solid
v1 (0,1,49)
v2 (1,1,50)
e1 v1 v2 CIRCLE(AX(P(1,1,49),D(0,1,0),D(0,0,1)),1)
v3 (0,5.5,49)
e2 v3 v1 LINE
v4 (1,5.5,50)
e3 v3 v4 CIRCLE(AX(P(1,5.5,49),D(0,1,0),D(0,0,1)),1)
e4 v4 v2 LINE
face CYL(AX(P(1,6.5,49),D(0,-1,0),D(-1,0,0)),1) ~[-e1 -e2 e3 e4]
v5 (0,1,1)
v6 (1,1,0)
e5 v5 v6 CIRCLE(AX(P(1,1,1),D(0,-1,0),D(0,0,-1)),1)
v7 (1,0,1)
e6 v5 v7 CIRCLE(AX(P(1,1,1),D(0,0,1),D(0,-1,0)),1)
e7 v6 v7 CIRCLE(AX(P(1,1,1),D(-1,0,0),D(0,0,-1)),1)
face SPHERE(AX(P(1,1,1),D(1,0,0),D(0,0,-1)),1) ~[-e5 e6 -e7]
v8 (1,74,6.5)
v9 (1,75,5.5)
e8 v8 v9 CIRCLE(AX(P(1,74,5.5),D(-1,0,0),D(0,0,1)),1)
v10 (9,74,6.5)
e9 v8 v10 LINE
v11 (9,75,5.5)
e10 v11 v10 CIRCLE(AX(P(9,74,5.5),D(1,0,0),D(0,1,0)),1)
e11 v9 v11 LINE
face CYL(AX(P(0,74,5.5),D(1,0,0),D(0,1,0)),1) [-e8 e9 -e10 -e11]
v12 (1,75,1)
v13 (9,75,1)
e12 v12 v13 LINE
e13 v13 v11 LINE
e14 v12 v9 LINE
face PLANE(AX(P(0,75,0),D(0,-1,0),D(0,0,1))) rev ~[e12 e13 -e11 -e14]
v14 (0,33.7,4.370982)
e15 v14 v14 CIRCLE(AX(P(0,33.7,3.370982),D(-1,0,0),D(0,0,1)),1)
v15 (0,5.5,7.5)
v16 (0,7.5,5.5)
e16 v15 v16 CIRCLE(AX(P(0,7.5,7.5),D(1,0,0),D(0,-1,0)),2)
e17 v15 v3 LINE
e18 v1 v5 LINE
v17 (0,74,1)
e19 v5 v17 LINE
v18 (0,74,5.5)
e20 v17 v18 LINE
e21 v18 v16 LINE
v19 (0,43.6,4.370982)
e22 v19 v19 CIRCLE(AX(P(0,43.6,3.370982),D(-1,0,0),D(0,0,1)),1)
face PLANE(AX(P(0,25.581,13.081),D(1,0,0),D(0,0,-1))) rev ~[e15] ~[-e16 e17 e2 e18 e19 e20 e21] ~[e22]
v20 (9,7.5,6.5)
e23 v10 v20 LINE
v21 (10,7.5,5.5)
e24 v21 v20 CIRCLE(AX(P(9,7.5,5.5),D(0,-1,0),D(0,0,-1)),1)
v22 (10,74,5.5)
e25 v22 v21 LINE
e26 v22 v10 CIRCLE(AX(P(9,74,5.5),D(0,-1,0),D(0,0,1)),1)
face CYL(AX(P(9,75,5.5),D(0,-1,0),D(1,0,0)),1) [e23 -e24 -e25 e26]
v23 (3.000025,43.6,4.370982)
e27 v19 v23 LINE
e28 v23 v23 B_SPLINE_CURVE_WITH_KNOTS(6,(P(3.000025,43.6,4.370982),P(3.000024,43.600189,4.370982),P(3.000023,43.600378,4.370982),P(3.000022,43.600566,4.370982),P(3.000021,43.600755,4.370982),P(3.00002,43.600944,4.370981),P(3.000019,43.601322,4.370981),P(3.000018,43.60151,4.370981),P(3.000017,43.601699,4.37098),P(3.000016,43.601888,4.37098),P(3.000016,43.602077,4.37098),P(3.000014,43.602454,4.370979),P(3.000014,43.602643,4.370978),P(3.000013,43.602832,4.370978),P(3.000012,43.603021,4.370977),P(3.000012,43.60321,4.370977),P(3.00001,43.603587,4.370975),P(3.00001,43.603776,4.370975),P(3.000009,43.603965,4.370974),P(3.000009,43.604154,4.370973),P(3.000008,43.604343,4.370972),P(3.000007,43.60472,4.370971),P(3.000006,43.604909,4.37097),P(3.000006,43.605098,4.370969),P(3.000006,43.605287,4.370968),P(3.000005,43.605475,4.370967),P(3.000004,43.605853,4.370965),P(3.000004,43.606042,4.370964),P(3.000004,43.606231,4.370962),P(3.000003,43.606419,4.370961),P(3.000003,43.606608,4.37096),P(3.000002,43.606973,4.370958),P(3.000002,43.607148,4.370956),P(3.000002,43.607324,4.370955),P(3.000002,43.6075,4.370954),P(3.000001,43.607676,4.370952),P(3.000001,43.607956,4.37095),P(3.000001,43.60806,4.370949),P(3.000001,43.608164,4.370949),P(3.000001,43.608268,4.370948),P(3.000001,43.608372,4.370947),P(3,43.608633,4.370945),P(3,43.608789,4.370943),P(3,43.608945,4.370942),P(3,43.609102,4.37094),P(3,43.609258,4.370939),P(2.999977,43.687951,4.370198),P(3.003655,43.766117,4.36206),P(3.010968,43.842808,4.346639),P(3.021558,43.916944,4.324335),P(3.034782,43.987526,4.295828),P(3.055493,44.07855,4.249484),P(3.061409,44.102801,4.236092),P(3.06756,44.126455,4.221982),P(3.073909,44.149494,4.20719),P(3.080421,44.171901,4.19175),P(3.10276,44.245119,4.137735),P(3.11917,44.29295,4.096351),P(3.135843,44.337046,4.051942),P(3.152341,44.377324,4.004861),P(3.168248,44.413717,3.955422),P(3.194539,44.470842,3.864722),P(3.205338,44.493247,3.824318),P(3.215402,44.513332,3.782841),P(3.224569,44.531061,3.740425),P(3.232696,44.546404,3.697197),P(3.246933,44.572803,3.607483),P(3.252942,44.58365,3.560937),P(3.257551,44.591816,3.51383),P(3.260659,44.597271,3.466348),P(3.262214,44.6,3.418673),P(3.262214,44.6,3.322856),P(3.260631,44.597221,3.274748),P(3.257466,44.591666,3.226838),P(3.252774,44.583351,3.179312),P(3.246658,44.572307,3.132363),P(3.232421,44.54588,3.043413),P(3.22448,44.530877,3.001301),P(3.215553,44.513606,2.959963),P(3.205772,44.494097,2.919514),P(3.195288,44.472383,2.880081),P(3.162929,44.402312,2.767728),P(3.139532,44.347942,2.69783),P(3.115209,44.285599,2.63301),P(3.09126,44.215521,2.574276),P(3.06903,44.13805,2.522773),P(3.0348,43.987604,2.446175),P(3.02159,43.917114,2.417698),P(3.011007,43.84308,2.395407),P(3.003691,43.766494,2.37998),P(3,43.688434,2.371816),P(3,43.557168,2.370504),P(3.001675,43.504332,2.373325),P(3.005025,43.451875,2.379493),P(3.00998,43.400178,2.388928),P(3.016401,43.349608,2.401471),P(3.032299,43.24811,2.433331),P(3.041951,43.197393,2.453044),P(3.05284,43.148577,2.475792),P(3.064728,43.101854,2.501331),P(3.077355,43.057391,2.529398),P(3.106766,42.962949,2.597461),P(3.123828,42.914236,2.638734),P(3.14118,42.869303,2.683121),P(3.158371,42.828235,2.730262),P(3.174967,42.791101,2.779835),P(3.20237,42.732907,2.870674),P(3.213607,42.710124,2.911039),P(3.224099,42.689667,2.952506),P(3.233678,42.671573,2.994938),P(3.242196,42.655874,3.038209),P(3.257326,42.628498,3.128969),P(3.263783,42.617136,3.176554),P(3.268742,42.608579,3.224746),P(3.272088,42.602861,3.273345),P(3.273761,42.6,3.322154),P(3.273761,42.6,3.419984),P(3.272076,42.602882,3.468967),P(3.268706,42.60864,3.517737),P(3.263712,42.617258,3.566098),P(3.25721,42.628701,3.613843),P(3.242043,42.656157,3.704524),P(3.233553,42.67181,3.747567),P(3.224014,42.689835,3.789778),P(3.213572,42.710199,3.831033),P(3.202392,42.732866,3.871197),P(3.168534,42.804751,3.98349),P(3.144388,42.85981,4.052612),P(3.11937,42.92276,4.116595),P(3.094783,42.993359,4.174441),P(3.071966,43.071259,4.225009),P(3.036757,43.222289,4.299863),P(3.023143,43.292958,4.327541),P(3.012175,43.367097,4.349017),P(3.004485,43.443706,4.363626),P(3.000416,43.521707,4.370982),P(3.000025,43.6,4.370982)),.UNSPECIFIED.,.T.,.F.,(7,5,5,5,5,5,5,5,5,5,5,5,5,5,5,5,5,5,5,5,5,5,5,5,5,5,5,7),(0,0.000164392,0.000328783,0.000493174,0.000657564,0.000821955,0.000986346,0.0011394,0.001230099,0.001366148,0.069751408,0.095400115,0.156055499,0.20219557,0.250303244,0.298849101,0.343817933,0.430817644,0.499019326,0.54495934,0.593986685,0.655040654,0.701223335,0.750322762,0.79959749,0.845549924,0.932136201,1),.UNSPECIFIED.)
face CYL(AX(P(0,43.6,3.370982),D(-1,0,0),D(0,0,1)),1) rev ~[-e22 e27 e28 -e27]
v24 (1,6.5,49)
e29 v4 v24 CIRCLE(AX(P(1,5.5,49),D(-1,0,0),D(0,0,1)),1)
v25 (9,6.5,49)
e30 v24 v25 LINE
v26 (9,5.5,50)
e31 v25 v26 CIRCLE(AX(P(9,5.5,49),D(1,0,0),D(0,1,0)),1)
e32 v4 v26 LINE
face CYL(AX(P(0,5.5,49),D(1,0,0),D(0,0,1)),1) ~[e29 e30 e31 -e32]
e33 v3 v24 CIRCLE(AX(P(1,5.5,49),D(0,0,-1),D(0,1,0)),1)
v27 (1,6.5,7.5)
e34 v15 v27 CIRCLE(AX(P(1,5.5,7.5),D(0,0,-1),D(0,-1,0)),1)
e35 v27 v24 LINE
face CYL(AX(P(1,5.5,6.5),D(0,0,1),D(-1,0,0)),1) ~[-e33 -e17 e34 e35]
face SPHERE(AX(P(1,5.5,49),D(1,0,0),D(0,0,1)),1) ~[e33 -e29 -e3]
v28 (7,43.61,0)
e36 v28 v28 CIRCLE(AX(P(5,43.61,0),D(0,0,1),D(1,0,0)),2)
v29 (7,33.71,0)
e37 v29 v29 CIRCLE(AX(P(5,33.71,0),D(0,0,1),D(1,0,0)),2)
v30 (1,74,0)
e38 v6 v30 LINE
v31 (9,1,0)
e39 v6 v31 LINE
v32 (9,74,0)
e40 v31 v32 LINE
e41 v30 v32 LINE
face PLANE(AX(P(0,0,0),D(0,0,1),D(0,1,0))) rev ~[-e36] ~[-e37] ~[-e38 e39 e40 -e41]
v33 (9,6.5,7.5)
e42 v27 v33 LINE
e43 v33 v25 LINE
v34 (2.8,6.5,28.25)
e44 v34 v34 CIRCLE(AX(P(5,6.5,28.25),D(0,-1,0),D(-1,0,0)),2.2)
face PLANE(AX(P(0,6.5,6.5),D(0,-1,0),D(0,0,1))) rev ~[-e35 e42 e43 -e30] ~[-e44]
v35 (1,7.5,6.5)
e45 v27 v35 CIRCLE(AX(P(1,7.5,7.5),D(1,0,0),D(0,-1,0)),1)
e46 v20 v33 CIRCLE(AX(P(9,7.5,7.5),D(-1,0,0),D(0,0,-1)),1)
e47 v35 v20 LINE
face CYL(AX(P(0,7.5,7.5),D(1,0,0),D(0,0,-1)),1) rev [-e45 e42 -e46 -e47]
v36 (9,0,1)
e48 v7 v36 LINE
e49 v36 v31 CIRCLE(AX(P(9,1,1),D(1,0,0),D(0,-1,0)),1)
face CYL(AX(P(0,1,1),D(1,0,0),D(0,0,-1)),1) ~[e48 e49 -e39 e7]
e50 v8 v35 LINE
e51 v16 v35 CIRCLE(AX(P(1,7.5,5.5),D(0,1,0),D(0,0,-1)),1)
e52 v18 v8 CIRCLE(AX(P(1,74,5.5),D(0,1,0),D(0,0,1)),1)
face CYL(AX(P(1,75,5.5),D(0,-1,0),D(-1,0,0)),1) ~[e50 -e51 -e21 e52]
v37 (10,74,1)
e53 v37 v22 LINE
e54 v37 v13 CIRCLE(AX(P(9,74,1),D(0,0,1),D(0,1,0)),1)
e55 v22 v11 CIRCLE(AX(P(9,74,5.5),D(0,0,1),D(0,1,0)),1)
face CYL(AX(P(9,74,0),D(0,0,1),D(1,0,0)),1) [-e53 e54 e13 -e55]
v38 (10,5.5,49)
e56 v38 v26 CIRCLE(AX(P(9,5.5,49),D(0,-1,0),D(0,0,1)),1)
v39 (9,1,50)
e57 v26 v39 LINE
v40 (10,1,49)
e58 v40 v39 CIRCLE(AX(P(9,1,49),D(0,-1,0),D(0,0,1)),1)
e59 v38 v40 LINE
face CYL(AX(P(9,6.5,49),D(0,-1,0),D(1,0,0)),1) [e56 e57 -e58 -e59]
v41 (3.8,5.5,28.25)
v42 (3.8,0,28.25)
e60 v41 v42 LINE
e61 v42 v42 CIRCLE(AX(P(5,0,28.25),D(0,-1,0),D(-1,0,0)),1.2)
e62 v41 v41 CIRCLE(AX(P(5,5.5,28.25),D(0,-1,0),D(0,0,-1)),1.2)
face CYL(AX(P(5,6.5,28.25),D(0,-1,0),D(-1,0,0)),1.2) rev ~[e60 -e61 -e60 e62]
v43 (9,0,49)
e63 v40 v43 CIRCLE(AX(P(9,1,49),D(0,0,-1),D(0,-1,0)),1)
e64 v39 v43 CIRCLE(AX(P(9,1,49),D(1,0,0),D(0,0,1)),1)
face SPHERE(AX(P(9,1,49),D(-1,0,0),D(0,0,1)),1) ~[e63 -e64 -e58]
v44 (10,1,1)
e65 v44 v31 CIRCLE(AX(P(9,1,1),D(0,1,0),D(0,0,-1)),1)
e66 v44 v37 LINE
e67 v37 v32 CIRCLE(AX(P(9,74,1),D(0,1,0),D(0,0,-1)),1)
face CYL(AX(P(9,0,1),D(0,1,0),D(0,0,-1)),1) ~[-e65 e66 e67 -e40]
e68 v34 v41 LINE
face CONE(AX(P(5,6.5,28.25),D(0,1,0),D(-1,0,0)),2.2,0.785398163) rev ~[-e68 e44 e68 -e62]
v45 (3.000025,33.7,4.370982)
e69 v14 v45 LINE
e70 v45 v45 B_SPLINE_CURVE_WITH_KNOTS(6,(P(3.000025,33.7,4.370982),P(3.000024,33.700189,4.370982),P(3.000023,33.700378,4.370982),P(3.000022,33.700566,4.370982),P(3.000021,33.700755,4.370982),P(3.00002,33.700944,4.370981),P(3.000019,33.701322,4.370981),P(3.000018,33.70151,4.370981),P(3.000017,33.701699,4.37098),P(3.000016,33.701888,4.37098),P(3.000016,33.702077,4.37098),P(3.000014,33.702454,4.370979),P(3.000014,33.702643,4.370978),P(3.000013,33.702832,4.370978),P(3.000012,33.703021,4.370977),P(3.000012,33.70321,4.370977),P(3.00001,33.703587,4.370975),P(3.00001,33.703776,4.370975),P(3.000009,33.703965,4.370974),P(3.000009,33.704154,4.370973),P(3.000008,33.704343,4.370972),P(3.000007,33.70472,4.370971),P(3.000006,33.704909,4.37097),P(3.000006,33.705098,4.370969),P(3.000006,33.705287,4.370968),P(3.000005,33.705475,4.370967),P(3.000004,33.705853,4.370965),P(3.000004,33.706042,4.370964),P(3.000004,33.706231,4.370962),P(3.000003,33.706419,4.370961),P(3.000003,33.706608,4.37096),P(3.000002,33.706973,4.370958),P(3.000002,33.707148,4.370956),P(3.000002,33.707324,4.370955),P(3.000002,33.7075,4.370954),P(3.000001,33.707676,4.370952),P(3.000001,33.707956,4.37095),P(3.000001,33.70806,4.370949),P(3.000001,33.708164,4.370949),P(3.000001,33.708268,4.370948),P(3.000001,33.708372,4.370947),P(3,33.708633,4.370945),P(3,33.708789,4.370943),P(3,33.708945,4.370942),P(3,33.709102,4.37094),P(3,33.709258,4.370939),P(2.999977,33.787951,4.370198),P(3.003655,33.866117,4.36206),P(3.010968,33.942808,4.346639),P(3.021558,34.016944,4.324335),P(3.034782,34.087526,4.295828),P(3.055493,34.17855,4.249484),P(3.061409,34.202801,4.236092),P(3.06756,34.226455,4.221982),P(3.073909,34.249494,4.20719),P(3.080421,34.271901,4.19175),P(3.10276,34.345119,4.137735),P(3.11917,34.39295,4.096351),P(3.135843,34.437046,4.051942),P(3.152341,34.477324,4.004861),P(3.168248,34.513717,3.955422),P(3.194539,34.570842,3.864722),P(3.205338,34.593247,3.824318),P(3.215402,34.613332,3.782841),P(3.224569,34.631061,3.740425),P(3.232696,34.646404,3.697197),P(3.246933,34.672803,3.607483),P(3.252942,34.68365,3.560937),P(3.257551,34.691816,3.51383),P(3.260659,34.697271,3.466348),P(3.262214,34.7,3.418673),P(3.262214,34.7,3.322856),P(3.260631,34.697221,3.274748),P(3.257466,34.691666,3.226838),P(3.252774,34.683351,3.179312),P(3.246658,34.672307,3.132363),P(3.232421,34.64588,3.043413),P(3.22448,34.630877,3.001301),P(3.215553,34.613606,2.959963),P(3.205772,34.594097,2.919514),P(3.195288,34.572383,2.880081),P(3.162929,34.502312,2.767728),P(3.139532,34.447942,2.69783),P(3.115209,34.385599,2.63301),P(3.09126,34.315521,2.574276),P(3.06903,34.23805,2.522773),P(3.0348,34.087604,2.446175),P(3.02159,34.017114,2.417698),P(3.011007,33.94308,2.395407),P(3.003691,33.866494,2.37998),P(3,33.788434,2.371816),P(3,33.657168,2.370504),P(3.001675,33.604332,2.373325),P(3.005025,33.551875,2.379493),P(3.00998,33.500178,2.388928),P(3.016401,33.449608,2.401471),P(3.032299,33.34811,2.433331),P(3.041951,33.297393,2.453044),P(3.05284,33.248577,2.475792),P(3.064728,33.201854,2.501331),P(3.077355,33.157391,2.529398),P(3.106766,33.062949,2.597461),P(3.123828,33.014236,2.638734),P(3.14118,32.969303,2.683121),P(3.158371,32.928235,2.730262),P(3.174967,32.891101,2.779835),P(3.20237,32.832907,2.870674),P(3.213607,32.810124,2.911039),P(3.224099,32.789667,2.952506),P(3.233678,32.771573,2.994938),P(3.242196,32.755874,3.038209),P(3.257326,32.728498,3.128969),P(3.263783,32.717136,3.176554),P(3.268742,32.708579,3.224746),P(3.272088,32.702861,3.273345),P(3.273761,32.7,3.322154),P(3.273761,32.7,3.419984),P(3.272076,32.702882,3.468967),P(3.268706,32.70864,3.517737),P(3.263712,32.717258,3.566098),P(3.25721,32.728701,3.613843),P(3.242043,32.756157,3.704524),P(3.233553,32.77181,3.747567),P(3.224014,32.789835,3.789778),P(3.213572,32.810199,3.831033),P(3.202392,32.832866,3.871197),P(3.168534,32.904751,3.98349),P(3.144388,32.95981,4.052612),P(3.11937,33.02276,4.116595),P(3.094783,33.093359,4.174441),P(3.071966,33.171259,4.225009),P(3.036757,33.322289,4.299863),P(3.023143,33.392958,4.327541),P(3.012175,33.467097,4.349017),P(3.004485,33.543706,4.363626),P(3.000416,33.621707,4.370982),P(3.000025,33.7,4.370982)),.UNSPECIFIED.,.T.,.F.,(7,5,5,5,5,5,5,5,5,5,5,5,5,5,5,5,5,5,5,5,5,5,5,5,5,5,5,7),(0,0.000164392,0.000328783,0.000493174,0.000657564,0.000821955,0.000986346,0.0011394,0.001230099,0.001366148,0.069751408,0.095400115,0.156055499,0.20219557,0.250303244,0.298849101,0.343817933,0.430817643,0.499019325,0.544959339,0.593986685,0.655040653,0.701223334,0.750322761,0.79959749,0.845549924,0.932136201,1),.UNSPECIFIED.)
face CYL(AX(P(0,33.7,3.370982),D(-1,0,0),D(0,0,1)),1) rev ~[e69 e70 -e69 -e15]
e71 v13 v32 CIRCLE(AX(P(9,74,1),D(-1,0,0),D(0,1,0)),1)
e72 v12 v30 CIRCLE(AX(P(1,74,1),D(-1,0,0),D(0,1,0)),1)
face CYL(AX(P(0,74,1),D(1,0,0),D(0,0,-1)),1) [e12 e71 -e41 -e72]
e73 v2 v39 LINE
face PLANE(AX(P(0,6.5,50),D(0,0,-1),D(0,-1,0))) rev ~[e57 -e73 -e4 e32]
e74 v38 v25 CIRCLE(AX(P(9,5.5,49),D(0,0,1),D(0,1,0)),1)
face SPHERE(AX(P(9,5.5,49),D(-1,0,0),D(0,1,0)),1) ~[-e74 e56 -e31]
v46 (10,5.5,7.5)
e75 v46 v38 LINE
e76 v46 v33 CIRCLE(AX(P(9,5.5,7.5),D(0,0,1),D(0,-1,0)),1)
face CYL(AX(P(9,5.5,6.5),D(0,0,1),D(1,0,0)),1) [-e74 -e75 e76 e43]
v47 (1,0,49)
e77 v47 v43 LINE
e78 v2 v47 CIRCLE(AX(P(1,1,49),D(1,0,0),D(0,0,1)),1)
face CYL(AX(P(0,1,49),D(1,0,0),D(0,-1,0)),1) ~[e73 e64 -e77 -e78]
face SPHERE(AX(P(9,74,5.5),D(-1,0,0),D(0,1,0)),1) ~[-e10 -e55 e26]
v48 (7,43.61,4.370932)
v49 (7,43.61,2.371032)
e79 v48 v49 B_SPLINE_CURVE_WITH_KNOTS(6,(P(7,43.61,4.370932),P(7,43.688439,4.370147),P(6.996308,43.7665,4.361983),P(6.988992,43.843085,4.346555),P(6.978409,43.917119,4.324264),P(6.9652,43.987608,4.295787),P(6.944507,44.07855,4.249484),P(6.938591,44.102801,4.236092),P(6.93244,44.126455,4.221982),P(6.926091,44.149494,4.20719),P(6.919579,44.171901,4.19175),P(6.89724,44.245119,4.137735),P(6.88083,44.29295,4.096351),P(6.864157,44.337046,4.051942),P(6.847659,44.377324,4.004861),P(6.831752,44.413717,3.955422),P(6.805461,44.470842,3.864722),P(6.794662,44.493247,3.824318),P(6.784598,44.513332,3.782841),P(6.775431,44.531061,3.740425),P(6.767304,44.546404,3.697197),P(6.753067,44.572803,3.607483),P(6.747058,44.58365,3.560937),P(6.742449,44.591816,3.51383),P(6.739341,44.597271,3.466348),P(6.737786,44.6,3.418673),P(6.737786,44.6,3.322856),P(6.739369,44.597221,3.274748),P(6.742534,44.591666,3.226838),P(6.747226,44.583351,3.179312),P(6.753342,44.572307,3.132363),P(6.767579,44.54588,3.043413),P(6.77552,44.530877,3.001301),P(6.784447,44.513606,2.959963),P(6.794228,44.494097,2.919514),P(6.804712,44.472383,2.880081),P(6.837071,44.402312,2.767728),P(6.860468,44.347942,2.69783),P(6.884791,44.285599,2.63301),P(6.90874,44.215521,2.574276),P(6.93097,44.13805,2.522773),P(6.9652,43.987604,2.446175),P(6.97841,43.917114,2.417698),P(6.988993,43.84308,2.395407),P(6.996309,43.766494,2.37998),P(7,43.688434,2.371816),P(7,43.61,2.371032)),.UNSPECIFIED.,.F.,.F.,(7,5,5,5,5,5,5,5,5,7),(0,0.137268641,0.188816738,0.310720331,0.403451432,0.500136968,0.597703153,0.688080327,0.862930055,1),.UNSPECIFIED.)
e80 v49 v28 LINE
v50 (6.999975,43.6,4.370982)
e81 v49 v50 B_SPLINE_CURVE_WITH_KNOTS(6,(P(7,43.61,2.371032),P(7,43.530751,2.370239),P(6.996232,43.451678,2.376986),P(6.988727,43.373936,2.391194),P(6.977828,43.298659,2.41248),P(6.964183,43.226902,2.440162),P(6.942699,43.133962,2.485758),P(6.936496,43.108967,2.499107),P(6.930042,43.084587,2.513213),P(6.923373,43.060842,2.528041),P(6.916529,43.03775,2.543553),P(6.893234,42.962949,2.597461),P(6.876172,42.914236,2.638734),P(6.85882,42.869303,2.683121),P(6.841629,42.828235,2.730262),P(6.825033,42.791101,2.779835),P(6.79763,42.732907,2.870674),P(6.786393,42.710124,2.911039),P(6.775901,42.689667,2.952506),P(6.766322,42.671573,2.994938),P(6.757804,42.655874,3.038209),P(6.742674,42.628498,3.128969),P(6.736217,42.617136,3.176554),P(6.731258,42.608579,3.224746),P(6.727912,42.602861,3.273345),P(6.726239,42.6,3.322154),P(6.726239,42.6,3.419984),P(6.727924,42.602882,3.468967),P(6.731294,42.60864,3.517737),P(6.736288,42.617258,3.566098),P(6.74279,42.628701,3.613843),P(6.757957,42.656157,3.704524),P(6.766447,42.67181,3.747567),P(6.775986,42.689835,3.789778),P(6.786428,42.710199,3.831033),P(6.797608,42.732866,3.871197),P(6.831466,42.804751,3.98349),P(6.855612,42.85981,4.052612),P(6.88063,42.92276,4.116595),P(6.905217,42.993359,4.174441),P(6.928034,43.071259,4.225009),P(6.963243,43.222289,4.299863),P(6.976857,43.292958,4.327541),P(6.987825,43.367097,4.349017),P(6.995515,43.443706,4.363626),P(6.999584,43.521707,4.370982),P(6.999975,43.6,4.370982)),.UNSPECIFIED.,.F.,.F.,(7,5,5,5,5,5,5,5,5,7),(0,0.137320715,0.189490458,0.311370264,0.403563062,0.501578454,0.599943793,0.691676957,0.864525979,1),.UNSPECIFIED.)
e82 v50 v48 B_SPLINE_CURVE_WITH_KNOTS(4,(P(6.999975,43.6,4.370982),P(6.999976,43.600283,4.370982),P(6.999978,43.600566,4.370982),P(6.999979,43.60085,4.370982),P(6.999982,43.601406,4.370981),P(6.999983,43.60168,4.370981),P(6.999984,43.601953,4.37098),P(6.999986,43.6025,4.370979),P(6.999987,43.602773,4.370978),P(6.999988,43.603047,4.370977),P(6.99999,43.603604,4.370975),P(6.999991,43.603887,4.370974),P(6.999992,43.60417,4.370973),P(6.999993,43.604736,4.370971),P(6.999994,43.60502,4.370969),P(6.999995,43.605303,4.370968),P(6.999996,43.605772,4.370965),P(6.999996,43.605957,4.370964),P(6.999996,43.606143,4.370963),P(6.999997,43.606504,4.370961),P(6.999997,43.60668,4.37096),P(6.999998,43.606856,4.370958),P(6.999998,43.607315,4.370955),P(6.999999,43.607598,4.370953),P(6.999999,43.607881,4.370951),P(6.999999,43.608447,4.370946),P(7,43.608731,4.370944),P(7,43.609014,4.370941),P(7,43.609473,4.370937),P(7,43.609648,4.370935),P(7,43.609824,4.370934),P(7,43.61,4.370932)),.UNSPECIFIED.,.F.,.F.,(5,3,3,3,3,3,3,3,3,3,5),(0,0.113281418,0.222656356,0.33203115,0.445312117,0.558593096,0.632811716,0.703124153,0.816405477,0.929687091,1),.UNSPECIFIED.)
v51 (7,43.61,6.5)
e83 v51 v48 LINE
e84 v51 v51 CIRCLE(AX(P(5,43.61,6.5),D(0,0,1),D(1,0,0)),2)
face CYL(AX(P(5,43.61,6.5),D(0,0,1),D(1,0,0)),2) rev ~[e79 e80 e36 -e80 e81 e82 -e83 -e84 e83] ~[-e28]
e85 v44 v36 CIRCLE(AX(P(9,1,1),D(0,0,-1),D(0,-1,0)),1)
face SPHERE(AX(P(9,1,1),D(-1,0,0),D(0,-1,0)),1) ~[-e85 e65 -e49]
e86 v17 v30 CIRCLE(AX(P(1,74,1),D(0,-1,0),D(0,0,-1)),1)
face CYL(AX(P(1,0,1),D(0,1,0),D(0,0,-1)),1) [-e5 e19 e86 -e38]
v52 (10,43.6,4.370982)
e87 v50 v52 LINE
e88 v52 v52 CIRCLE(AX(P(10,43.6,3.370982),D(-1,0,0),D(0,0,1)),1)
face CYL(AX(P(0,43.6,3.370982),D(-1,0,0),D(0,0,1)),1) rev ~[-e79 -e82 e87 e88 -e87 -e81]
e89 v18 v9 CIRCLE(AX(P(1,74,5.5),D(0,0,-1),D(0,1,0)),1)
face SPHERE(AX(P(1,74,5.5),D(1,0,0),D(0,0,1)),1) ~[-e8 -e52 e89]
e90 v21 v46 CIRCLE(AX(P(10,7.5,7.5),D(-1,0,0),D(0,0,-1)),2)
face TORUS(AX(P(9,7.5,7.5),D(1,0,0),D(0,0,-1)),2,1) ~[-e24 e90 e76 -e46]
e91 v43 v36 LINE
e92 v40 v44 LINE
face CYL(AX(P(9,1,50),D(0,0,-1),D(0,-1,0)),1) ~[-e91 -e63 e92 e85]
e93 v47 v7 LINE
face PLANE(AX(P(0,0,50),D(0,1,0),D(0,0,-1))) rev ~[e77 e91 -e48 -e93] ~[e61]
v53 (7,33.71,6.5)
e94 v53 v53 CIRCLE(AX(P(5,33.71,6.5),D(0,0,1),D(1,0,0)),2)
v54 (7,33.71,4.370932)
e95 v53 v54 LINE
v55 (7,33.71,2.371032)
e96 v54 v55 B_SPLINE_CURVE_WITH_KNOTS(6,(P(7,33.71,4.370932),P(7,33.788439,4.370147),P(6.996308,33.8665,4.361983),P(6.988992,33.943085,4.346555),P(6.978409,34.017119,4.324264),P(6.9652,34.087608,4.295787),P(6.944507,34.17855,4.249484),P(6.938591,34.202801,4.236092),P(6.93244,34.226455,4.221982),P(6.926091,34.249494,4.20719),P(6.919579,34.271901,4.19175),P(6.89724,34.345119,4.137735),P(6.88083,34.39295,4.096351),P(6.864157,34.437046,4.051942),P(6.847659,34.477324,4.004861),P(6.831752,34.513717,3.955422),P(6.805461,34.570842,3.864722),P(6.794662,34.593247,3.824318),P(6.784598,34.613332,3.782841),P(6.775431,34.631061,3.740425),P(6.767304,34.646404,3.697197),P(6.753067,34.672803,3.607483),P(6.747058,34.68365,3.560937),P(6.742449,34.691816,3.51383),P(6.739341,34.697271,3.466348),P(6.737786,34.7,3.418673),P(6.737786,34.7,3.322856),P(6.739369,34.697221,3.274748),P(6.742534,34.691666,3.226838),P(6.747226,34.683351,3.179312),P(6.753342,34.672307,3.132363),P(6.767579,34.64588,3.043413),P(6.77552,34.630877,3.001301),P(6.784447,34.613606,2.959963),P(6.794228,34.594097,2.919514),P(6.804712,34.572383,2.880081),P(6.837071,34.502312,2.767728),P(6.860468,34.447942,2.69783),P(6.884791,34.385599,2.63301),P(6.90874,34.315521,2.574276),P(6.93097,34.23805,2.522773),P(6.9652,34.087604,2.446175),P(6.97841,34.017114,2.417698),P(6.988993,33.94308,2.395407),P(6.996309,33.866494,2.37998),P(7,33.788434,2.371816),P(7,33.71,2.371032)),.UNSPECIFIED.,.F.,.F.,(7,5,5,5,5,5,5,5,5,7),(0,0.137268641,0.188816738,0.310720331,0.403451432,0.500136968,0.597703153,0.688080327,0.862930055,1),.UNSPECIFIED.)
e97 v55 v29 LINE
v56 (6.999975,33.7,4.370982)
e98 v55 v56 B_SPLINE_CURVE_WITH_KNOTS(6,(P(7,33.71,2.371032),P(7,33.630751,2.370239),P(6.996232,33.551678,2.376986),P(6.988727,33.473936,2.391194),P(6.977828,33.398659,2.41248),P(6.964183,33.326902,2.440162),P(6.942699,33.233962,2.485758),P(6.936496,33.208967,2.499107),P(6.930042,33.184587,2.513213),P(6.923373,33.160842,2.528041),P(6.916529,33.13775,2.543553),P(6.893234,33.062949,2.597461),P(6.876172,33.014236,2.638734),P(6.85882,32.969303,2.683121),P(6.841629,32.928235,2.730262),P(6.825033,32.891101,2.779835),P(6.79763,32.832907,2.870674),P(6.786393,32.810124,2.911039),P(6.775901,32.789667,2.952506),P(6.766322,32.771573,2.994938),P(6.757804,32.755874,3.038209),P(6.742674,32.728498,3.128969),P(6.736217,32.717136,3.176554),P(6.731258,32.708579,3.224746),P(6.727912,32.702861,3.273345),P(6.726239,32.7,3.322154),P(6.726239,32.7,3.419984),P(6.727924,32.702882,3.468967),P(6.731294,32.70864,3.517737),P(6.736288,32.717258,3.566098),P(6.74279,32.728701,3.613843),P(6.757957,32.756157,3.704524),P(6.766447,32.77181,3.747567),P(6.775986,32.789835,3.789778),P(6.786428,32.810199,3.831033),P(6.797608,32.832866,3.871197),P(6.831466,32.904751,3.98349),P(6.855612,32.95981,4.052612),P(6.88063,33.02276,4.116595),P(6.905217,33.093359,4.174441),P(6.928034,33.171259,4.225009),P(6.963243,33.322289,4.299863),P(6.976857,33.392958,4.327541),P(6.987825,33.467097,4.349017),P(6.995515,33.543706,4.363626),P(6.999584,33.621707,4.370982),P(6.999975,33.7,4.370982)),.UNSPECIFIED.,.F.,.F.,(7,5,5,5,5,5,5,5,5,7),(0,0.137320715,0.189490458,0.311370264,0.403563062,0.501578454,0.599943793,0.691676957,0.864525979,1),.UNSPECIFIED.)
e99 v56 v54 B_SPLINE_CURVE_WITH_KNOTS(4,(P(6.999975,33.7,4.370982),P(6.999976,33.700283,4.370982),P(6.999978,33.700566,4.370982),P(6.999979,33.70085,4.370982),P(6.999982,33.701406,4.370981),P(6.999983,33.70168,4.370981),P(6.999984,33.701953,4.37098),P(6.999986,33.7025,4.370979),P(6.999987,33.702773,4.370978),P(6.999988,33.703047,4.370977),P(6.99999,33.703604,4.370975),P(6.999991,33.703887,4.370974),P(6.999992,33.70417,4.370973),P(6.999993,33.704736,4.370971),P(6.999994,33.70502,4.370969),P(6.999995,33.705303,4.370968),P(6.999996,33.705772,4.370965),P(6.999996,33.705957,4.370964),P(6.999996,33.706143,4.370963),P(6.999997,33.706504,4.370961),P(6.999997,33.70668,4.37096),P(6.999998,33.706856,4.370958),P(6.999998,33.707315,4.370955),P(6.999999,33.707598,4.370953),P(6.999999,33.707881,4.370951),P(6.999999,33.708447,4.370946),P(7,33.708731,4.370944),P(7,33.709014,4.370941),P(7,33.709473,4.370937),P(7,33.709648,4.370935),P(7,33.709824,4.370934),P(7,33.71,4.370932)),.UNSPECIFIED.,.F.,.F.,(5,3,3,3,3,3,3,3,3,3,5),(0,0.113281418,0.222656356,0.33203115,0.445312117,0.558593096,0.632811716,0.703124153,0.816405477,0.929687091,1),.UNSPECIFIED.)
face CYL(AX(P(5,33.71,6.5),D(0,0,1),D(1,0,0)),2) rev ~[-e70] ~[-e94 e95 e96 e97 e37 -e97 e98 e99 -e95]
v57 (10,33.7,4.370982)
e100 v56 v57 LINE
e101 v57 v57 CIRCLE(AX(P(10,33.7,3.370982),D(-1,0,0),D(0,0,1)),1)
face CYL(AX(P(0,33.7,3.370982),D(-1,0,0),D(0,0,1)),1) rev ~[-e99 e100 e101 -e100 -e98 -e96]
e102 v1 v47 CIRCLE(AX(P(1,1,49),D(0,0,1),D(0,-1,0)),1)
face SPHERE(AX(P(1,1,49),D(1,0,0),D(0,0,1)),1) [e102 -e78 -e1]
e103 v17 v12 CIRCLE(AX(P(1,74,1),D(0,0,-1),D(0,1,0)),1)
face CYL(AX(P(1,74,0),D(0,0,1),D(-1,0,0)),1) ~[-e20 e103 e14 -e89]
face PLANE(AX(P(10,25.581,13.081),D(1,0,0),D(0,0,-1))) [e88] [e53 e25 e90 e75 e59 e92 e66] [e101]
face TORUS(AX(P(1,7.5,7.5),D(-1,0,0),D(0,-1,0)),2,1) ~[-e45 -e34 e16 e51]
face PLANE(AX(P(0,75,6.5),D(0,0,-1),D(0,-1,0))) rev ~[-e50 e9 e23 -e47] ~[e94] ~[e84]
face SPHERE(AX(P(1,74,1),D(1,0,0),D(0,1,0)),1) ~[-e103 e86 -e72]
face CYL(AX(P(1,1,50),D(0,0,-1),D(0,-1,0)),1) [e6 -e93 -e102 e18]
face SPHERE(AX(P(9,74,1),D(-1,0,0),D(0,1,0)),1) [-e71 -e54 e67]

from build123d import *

# Parameters (mm, degrees)
BOSS_EXTRUDE1_DEPTH                                 = 10
CSK_FOR_M2_COUNTERSUNK_FLAT_HEAD_SCREW1_D           = 2.4
CSK_FOR_M2_COUNTERSUNK_FLAT_HEAD_SCREW1_DEPTH       = 30
CSK_FOR_M2_COUNTERSUNK_FLAT_HEAD_SCREW1_CSINK_D     = 4.4
CSK_FOR_M2_COUNTERSUNK_FLAT_HEAD_SCREW1_CSINK_ANGLE = 90
CSK_FOR_M2_COUNTERSUNK_FLAT_HEAD_SCREW1_TIP         = 0.721032743
SKETCH4_R                                           = 1
CUT_EXTRUDE1_DEPTH                                  = 91.691785736
SKETCH5_R                                           = 2
CUT_EXTRUDE2_DEPTH                                  = 88.27685833
FILLET1_R                                           = 1


with BuildPart() as part:
    # Sketch1 → Boss-Extrude1 (new body)
    with BuildSketch(Plane(origin=(0, 0, 0), x_dir=(0, 0, -1), z_dir=(1, 0, 0))):
        Polygon((0, 0), (0, 75), (-6.5, 75), (-6.5, 6.5), (-50, 6.5), (-50, 0), align=None)
    extrude(amount=BOSS_EXTRUDE1_DEPTH)

    # CSK for M2 Countersunk Flat Head Screw1
    with Locations(Plane(origin=(0, 6.5, 0), x_dir=(1, 0, 0), z_dir=(0, 1, 0))):
        with Locations((5, -28.25)):
            CounterSinkHole(CSK_FOR_M2_COUNTERSUNK_FLAT_HEAD_SCREW1_D / 2, CSK_FOR_M2_COUNTERSUNK_FLAT_HEAD_SCREW1_CSINK_D / 2, depth=CSK_FOR_M2_COUNTERSUNK_FLAT_HEAD_SCREW1_DEPTH, counter_sink_angle=CSK_FOR_M2_COUNTERSUNK_FLAT_HEAD_SCREW1_CSINK_ANGLE)
            with Locations((0, 0, -(CSK_FOR_M2_COUNTERSUNK_FLAT_HEAD_SCREW1_DEPTH + CSK_FOR_M2_COUNTERSUNK_FLAT_HEAD_SCREW1_TIP / 2))):  # 118° drill point
                Cone(0, CSK_FOR_M2_COUNTERSUNK_FLAT_HEAD_SCREW1_D / 2, CSK_FOR_M2_COUNTERSUNK_FLAT_HEAD_SCREW1_TIP, mode=Mode.SUBTRACT)

    # Sketch4 → Cut-Extrude1 (cut, through all)
    with BuildSketch(Plane.ZY):
        with Locations((3.370981866, 33.7)):
            Circle(SKETCH4_R)
        with Locations((3.370981866, 43.6)):
            Circle(SKETCH4_R)
    extrude(amount=-CUT_EXTRUDE1_DEPTH, mode=Mode.SUBTRACT)

    # Sketch5 → Cut-Extrude2 (cut, through all)
    with BuildSketch(Plane.XY.offset(6.5)):
        with Locations((5, 43.61)):
            Circle(SKETCH5_R)
        with Locations((5, 33.71)):
            Circle(SKETCH5_R)
    extrude(amount=-CUT_EXTRUDE2_DEPTH, mode=Mode.SUBTRACT)

    # Fillet1
    fillet1_edges = [part.edges().sort_by_distance(p)[0] for p in [
        (5, 0, 50),
        (5, 6.5, 50),
        (5, 6.5, 6.5),
        (5, 75, 6.5),
        (5, 75, 0),
        (5, 0, 0),
        (10, 75, 3.25),
        (10, 40.75, 6.5),
        (10, 6.5, 28.25),
        (10, 3.25, 50),
        (10, 0, 25),
        (0, 3.25, 50),
        (0, 6.5, 28.25),
        (0, 40.75, 6.5),
        (0, 75, 3.25),
        (0, 37.5, 0),
        (0, 0, 25),
        (10, 37.5, 0),
    ]]
    fillet(fillet1_edges, radius=FILLET1_R)


solid = part.part
